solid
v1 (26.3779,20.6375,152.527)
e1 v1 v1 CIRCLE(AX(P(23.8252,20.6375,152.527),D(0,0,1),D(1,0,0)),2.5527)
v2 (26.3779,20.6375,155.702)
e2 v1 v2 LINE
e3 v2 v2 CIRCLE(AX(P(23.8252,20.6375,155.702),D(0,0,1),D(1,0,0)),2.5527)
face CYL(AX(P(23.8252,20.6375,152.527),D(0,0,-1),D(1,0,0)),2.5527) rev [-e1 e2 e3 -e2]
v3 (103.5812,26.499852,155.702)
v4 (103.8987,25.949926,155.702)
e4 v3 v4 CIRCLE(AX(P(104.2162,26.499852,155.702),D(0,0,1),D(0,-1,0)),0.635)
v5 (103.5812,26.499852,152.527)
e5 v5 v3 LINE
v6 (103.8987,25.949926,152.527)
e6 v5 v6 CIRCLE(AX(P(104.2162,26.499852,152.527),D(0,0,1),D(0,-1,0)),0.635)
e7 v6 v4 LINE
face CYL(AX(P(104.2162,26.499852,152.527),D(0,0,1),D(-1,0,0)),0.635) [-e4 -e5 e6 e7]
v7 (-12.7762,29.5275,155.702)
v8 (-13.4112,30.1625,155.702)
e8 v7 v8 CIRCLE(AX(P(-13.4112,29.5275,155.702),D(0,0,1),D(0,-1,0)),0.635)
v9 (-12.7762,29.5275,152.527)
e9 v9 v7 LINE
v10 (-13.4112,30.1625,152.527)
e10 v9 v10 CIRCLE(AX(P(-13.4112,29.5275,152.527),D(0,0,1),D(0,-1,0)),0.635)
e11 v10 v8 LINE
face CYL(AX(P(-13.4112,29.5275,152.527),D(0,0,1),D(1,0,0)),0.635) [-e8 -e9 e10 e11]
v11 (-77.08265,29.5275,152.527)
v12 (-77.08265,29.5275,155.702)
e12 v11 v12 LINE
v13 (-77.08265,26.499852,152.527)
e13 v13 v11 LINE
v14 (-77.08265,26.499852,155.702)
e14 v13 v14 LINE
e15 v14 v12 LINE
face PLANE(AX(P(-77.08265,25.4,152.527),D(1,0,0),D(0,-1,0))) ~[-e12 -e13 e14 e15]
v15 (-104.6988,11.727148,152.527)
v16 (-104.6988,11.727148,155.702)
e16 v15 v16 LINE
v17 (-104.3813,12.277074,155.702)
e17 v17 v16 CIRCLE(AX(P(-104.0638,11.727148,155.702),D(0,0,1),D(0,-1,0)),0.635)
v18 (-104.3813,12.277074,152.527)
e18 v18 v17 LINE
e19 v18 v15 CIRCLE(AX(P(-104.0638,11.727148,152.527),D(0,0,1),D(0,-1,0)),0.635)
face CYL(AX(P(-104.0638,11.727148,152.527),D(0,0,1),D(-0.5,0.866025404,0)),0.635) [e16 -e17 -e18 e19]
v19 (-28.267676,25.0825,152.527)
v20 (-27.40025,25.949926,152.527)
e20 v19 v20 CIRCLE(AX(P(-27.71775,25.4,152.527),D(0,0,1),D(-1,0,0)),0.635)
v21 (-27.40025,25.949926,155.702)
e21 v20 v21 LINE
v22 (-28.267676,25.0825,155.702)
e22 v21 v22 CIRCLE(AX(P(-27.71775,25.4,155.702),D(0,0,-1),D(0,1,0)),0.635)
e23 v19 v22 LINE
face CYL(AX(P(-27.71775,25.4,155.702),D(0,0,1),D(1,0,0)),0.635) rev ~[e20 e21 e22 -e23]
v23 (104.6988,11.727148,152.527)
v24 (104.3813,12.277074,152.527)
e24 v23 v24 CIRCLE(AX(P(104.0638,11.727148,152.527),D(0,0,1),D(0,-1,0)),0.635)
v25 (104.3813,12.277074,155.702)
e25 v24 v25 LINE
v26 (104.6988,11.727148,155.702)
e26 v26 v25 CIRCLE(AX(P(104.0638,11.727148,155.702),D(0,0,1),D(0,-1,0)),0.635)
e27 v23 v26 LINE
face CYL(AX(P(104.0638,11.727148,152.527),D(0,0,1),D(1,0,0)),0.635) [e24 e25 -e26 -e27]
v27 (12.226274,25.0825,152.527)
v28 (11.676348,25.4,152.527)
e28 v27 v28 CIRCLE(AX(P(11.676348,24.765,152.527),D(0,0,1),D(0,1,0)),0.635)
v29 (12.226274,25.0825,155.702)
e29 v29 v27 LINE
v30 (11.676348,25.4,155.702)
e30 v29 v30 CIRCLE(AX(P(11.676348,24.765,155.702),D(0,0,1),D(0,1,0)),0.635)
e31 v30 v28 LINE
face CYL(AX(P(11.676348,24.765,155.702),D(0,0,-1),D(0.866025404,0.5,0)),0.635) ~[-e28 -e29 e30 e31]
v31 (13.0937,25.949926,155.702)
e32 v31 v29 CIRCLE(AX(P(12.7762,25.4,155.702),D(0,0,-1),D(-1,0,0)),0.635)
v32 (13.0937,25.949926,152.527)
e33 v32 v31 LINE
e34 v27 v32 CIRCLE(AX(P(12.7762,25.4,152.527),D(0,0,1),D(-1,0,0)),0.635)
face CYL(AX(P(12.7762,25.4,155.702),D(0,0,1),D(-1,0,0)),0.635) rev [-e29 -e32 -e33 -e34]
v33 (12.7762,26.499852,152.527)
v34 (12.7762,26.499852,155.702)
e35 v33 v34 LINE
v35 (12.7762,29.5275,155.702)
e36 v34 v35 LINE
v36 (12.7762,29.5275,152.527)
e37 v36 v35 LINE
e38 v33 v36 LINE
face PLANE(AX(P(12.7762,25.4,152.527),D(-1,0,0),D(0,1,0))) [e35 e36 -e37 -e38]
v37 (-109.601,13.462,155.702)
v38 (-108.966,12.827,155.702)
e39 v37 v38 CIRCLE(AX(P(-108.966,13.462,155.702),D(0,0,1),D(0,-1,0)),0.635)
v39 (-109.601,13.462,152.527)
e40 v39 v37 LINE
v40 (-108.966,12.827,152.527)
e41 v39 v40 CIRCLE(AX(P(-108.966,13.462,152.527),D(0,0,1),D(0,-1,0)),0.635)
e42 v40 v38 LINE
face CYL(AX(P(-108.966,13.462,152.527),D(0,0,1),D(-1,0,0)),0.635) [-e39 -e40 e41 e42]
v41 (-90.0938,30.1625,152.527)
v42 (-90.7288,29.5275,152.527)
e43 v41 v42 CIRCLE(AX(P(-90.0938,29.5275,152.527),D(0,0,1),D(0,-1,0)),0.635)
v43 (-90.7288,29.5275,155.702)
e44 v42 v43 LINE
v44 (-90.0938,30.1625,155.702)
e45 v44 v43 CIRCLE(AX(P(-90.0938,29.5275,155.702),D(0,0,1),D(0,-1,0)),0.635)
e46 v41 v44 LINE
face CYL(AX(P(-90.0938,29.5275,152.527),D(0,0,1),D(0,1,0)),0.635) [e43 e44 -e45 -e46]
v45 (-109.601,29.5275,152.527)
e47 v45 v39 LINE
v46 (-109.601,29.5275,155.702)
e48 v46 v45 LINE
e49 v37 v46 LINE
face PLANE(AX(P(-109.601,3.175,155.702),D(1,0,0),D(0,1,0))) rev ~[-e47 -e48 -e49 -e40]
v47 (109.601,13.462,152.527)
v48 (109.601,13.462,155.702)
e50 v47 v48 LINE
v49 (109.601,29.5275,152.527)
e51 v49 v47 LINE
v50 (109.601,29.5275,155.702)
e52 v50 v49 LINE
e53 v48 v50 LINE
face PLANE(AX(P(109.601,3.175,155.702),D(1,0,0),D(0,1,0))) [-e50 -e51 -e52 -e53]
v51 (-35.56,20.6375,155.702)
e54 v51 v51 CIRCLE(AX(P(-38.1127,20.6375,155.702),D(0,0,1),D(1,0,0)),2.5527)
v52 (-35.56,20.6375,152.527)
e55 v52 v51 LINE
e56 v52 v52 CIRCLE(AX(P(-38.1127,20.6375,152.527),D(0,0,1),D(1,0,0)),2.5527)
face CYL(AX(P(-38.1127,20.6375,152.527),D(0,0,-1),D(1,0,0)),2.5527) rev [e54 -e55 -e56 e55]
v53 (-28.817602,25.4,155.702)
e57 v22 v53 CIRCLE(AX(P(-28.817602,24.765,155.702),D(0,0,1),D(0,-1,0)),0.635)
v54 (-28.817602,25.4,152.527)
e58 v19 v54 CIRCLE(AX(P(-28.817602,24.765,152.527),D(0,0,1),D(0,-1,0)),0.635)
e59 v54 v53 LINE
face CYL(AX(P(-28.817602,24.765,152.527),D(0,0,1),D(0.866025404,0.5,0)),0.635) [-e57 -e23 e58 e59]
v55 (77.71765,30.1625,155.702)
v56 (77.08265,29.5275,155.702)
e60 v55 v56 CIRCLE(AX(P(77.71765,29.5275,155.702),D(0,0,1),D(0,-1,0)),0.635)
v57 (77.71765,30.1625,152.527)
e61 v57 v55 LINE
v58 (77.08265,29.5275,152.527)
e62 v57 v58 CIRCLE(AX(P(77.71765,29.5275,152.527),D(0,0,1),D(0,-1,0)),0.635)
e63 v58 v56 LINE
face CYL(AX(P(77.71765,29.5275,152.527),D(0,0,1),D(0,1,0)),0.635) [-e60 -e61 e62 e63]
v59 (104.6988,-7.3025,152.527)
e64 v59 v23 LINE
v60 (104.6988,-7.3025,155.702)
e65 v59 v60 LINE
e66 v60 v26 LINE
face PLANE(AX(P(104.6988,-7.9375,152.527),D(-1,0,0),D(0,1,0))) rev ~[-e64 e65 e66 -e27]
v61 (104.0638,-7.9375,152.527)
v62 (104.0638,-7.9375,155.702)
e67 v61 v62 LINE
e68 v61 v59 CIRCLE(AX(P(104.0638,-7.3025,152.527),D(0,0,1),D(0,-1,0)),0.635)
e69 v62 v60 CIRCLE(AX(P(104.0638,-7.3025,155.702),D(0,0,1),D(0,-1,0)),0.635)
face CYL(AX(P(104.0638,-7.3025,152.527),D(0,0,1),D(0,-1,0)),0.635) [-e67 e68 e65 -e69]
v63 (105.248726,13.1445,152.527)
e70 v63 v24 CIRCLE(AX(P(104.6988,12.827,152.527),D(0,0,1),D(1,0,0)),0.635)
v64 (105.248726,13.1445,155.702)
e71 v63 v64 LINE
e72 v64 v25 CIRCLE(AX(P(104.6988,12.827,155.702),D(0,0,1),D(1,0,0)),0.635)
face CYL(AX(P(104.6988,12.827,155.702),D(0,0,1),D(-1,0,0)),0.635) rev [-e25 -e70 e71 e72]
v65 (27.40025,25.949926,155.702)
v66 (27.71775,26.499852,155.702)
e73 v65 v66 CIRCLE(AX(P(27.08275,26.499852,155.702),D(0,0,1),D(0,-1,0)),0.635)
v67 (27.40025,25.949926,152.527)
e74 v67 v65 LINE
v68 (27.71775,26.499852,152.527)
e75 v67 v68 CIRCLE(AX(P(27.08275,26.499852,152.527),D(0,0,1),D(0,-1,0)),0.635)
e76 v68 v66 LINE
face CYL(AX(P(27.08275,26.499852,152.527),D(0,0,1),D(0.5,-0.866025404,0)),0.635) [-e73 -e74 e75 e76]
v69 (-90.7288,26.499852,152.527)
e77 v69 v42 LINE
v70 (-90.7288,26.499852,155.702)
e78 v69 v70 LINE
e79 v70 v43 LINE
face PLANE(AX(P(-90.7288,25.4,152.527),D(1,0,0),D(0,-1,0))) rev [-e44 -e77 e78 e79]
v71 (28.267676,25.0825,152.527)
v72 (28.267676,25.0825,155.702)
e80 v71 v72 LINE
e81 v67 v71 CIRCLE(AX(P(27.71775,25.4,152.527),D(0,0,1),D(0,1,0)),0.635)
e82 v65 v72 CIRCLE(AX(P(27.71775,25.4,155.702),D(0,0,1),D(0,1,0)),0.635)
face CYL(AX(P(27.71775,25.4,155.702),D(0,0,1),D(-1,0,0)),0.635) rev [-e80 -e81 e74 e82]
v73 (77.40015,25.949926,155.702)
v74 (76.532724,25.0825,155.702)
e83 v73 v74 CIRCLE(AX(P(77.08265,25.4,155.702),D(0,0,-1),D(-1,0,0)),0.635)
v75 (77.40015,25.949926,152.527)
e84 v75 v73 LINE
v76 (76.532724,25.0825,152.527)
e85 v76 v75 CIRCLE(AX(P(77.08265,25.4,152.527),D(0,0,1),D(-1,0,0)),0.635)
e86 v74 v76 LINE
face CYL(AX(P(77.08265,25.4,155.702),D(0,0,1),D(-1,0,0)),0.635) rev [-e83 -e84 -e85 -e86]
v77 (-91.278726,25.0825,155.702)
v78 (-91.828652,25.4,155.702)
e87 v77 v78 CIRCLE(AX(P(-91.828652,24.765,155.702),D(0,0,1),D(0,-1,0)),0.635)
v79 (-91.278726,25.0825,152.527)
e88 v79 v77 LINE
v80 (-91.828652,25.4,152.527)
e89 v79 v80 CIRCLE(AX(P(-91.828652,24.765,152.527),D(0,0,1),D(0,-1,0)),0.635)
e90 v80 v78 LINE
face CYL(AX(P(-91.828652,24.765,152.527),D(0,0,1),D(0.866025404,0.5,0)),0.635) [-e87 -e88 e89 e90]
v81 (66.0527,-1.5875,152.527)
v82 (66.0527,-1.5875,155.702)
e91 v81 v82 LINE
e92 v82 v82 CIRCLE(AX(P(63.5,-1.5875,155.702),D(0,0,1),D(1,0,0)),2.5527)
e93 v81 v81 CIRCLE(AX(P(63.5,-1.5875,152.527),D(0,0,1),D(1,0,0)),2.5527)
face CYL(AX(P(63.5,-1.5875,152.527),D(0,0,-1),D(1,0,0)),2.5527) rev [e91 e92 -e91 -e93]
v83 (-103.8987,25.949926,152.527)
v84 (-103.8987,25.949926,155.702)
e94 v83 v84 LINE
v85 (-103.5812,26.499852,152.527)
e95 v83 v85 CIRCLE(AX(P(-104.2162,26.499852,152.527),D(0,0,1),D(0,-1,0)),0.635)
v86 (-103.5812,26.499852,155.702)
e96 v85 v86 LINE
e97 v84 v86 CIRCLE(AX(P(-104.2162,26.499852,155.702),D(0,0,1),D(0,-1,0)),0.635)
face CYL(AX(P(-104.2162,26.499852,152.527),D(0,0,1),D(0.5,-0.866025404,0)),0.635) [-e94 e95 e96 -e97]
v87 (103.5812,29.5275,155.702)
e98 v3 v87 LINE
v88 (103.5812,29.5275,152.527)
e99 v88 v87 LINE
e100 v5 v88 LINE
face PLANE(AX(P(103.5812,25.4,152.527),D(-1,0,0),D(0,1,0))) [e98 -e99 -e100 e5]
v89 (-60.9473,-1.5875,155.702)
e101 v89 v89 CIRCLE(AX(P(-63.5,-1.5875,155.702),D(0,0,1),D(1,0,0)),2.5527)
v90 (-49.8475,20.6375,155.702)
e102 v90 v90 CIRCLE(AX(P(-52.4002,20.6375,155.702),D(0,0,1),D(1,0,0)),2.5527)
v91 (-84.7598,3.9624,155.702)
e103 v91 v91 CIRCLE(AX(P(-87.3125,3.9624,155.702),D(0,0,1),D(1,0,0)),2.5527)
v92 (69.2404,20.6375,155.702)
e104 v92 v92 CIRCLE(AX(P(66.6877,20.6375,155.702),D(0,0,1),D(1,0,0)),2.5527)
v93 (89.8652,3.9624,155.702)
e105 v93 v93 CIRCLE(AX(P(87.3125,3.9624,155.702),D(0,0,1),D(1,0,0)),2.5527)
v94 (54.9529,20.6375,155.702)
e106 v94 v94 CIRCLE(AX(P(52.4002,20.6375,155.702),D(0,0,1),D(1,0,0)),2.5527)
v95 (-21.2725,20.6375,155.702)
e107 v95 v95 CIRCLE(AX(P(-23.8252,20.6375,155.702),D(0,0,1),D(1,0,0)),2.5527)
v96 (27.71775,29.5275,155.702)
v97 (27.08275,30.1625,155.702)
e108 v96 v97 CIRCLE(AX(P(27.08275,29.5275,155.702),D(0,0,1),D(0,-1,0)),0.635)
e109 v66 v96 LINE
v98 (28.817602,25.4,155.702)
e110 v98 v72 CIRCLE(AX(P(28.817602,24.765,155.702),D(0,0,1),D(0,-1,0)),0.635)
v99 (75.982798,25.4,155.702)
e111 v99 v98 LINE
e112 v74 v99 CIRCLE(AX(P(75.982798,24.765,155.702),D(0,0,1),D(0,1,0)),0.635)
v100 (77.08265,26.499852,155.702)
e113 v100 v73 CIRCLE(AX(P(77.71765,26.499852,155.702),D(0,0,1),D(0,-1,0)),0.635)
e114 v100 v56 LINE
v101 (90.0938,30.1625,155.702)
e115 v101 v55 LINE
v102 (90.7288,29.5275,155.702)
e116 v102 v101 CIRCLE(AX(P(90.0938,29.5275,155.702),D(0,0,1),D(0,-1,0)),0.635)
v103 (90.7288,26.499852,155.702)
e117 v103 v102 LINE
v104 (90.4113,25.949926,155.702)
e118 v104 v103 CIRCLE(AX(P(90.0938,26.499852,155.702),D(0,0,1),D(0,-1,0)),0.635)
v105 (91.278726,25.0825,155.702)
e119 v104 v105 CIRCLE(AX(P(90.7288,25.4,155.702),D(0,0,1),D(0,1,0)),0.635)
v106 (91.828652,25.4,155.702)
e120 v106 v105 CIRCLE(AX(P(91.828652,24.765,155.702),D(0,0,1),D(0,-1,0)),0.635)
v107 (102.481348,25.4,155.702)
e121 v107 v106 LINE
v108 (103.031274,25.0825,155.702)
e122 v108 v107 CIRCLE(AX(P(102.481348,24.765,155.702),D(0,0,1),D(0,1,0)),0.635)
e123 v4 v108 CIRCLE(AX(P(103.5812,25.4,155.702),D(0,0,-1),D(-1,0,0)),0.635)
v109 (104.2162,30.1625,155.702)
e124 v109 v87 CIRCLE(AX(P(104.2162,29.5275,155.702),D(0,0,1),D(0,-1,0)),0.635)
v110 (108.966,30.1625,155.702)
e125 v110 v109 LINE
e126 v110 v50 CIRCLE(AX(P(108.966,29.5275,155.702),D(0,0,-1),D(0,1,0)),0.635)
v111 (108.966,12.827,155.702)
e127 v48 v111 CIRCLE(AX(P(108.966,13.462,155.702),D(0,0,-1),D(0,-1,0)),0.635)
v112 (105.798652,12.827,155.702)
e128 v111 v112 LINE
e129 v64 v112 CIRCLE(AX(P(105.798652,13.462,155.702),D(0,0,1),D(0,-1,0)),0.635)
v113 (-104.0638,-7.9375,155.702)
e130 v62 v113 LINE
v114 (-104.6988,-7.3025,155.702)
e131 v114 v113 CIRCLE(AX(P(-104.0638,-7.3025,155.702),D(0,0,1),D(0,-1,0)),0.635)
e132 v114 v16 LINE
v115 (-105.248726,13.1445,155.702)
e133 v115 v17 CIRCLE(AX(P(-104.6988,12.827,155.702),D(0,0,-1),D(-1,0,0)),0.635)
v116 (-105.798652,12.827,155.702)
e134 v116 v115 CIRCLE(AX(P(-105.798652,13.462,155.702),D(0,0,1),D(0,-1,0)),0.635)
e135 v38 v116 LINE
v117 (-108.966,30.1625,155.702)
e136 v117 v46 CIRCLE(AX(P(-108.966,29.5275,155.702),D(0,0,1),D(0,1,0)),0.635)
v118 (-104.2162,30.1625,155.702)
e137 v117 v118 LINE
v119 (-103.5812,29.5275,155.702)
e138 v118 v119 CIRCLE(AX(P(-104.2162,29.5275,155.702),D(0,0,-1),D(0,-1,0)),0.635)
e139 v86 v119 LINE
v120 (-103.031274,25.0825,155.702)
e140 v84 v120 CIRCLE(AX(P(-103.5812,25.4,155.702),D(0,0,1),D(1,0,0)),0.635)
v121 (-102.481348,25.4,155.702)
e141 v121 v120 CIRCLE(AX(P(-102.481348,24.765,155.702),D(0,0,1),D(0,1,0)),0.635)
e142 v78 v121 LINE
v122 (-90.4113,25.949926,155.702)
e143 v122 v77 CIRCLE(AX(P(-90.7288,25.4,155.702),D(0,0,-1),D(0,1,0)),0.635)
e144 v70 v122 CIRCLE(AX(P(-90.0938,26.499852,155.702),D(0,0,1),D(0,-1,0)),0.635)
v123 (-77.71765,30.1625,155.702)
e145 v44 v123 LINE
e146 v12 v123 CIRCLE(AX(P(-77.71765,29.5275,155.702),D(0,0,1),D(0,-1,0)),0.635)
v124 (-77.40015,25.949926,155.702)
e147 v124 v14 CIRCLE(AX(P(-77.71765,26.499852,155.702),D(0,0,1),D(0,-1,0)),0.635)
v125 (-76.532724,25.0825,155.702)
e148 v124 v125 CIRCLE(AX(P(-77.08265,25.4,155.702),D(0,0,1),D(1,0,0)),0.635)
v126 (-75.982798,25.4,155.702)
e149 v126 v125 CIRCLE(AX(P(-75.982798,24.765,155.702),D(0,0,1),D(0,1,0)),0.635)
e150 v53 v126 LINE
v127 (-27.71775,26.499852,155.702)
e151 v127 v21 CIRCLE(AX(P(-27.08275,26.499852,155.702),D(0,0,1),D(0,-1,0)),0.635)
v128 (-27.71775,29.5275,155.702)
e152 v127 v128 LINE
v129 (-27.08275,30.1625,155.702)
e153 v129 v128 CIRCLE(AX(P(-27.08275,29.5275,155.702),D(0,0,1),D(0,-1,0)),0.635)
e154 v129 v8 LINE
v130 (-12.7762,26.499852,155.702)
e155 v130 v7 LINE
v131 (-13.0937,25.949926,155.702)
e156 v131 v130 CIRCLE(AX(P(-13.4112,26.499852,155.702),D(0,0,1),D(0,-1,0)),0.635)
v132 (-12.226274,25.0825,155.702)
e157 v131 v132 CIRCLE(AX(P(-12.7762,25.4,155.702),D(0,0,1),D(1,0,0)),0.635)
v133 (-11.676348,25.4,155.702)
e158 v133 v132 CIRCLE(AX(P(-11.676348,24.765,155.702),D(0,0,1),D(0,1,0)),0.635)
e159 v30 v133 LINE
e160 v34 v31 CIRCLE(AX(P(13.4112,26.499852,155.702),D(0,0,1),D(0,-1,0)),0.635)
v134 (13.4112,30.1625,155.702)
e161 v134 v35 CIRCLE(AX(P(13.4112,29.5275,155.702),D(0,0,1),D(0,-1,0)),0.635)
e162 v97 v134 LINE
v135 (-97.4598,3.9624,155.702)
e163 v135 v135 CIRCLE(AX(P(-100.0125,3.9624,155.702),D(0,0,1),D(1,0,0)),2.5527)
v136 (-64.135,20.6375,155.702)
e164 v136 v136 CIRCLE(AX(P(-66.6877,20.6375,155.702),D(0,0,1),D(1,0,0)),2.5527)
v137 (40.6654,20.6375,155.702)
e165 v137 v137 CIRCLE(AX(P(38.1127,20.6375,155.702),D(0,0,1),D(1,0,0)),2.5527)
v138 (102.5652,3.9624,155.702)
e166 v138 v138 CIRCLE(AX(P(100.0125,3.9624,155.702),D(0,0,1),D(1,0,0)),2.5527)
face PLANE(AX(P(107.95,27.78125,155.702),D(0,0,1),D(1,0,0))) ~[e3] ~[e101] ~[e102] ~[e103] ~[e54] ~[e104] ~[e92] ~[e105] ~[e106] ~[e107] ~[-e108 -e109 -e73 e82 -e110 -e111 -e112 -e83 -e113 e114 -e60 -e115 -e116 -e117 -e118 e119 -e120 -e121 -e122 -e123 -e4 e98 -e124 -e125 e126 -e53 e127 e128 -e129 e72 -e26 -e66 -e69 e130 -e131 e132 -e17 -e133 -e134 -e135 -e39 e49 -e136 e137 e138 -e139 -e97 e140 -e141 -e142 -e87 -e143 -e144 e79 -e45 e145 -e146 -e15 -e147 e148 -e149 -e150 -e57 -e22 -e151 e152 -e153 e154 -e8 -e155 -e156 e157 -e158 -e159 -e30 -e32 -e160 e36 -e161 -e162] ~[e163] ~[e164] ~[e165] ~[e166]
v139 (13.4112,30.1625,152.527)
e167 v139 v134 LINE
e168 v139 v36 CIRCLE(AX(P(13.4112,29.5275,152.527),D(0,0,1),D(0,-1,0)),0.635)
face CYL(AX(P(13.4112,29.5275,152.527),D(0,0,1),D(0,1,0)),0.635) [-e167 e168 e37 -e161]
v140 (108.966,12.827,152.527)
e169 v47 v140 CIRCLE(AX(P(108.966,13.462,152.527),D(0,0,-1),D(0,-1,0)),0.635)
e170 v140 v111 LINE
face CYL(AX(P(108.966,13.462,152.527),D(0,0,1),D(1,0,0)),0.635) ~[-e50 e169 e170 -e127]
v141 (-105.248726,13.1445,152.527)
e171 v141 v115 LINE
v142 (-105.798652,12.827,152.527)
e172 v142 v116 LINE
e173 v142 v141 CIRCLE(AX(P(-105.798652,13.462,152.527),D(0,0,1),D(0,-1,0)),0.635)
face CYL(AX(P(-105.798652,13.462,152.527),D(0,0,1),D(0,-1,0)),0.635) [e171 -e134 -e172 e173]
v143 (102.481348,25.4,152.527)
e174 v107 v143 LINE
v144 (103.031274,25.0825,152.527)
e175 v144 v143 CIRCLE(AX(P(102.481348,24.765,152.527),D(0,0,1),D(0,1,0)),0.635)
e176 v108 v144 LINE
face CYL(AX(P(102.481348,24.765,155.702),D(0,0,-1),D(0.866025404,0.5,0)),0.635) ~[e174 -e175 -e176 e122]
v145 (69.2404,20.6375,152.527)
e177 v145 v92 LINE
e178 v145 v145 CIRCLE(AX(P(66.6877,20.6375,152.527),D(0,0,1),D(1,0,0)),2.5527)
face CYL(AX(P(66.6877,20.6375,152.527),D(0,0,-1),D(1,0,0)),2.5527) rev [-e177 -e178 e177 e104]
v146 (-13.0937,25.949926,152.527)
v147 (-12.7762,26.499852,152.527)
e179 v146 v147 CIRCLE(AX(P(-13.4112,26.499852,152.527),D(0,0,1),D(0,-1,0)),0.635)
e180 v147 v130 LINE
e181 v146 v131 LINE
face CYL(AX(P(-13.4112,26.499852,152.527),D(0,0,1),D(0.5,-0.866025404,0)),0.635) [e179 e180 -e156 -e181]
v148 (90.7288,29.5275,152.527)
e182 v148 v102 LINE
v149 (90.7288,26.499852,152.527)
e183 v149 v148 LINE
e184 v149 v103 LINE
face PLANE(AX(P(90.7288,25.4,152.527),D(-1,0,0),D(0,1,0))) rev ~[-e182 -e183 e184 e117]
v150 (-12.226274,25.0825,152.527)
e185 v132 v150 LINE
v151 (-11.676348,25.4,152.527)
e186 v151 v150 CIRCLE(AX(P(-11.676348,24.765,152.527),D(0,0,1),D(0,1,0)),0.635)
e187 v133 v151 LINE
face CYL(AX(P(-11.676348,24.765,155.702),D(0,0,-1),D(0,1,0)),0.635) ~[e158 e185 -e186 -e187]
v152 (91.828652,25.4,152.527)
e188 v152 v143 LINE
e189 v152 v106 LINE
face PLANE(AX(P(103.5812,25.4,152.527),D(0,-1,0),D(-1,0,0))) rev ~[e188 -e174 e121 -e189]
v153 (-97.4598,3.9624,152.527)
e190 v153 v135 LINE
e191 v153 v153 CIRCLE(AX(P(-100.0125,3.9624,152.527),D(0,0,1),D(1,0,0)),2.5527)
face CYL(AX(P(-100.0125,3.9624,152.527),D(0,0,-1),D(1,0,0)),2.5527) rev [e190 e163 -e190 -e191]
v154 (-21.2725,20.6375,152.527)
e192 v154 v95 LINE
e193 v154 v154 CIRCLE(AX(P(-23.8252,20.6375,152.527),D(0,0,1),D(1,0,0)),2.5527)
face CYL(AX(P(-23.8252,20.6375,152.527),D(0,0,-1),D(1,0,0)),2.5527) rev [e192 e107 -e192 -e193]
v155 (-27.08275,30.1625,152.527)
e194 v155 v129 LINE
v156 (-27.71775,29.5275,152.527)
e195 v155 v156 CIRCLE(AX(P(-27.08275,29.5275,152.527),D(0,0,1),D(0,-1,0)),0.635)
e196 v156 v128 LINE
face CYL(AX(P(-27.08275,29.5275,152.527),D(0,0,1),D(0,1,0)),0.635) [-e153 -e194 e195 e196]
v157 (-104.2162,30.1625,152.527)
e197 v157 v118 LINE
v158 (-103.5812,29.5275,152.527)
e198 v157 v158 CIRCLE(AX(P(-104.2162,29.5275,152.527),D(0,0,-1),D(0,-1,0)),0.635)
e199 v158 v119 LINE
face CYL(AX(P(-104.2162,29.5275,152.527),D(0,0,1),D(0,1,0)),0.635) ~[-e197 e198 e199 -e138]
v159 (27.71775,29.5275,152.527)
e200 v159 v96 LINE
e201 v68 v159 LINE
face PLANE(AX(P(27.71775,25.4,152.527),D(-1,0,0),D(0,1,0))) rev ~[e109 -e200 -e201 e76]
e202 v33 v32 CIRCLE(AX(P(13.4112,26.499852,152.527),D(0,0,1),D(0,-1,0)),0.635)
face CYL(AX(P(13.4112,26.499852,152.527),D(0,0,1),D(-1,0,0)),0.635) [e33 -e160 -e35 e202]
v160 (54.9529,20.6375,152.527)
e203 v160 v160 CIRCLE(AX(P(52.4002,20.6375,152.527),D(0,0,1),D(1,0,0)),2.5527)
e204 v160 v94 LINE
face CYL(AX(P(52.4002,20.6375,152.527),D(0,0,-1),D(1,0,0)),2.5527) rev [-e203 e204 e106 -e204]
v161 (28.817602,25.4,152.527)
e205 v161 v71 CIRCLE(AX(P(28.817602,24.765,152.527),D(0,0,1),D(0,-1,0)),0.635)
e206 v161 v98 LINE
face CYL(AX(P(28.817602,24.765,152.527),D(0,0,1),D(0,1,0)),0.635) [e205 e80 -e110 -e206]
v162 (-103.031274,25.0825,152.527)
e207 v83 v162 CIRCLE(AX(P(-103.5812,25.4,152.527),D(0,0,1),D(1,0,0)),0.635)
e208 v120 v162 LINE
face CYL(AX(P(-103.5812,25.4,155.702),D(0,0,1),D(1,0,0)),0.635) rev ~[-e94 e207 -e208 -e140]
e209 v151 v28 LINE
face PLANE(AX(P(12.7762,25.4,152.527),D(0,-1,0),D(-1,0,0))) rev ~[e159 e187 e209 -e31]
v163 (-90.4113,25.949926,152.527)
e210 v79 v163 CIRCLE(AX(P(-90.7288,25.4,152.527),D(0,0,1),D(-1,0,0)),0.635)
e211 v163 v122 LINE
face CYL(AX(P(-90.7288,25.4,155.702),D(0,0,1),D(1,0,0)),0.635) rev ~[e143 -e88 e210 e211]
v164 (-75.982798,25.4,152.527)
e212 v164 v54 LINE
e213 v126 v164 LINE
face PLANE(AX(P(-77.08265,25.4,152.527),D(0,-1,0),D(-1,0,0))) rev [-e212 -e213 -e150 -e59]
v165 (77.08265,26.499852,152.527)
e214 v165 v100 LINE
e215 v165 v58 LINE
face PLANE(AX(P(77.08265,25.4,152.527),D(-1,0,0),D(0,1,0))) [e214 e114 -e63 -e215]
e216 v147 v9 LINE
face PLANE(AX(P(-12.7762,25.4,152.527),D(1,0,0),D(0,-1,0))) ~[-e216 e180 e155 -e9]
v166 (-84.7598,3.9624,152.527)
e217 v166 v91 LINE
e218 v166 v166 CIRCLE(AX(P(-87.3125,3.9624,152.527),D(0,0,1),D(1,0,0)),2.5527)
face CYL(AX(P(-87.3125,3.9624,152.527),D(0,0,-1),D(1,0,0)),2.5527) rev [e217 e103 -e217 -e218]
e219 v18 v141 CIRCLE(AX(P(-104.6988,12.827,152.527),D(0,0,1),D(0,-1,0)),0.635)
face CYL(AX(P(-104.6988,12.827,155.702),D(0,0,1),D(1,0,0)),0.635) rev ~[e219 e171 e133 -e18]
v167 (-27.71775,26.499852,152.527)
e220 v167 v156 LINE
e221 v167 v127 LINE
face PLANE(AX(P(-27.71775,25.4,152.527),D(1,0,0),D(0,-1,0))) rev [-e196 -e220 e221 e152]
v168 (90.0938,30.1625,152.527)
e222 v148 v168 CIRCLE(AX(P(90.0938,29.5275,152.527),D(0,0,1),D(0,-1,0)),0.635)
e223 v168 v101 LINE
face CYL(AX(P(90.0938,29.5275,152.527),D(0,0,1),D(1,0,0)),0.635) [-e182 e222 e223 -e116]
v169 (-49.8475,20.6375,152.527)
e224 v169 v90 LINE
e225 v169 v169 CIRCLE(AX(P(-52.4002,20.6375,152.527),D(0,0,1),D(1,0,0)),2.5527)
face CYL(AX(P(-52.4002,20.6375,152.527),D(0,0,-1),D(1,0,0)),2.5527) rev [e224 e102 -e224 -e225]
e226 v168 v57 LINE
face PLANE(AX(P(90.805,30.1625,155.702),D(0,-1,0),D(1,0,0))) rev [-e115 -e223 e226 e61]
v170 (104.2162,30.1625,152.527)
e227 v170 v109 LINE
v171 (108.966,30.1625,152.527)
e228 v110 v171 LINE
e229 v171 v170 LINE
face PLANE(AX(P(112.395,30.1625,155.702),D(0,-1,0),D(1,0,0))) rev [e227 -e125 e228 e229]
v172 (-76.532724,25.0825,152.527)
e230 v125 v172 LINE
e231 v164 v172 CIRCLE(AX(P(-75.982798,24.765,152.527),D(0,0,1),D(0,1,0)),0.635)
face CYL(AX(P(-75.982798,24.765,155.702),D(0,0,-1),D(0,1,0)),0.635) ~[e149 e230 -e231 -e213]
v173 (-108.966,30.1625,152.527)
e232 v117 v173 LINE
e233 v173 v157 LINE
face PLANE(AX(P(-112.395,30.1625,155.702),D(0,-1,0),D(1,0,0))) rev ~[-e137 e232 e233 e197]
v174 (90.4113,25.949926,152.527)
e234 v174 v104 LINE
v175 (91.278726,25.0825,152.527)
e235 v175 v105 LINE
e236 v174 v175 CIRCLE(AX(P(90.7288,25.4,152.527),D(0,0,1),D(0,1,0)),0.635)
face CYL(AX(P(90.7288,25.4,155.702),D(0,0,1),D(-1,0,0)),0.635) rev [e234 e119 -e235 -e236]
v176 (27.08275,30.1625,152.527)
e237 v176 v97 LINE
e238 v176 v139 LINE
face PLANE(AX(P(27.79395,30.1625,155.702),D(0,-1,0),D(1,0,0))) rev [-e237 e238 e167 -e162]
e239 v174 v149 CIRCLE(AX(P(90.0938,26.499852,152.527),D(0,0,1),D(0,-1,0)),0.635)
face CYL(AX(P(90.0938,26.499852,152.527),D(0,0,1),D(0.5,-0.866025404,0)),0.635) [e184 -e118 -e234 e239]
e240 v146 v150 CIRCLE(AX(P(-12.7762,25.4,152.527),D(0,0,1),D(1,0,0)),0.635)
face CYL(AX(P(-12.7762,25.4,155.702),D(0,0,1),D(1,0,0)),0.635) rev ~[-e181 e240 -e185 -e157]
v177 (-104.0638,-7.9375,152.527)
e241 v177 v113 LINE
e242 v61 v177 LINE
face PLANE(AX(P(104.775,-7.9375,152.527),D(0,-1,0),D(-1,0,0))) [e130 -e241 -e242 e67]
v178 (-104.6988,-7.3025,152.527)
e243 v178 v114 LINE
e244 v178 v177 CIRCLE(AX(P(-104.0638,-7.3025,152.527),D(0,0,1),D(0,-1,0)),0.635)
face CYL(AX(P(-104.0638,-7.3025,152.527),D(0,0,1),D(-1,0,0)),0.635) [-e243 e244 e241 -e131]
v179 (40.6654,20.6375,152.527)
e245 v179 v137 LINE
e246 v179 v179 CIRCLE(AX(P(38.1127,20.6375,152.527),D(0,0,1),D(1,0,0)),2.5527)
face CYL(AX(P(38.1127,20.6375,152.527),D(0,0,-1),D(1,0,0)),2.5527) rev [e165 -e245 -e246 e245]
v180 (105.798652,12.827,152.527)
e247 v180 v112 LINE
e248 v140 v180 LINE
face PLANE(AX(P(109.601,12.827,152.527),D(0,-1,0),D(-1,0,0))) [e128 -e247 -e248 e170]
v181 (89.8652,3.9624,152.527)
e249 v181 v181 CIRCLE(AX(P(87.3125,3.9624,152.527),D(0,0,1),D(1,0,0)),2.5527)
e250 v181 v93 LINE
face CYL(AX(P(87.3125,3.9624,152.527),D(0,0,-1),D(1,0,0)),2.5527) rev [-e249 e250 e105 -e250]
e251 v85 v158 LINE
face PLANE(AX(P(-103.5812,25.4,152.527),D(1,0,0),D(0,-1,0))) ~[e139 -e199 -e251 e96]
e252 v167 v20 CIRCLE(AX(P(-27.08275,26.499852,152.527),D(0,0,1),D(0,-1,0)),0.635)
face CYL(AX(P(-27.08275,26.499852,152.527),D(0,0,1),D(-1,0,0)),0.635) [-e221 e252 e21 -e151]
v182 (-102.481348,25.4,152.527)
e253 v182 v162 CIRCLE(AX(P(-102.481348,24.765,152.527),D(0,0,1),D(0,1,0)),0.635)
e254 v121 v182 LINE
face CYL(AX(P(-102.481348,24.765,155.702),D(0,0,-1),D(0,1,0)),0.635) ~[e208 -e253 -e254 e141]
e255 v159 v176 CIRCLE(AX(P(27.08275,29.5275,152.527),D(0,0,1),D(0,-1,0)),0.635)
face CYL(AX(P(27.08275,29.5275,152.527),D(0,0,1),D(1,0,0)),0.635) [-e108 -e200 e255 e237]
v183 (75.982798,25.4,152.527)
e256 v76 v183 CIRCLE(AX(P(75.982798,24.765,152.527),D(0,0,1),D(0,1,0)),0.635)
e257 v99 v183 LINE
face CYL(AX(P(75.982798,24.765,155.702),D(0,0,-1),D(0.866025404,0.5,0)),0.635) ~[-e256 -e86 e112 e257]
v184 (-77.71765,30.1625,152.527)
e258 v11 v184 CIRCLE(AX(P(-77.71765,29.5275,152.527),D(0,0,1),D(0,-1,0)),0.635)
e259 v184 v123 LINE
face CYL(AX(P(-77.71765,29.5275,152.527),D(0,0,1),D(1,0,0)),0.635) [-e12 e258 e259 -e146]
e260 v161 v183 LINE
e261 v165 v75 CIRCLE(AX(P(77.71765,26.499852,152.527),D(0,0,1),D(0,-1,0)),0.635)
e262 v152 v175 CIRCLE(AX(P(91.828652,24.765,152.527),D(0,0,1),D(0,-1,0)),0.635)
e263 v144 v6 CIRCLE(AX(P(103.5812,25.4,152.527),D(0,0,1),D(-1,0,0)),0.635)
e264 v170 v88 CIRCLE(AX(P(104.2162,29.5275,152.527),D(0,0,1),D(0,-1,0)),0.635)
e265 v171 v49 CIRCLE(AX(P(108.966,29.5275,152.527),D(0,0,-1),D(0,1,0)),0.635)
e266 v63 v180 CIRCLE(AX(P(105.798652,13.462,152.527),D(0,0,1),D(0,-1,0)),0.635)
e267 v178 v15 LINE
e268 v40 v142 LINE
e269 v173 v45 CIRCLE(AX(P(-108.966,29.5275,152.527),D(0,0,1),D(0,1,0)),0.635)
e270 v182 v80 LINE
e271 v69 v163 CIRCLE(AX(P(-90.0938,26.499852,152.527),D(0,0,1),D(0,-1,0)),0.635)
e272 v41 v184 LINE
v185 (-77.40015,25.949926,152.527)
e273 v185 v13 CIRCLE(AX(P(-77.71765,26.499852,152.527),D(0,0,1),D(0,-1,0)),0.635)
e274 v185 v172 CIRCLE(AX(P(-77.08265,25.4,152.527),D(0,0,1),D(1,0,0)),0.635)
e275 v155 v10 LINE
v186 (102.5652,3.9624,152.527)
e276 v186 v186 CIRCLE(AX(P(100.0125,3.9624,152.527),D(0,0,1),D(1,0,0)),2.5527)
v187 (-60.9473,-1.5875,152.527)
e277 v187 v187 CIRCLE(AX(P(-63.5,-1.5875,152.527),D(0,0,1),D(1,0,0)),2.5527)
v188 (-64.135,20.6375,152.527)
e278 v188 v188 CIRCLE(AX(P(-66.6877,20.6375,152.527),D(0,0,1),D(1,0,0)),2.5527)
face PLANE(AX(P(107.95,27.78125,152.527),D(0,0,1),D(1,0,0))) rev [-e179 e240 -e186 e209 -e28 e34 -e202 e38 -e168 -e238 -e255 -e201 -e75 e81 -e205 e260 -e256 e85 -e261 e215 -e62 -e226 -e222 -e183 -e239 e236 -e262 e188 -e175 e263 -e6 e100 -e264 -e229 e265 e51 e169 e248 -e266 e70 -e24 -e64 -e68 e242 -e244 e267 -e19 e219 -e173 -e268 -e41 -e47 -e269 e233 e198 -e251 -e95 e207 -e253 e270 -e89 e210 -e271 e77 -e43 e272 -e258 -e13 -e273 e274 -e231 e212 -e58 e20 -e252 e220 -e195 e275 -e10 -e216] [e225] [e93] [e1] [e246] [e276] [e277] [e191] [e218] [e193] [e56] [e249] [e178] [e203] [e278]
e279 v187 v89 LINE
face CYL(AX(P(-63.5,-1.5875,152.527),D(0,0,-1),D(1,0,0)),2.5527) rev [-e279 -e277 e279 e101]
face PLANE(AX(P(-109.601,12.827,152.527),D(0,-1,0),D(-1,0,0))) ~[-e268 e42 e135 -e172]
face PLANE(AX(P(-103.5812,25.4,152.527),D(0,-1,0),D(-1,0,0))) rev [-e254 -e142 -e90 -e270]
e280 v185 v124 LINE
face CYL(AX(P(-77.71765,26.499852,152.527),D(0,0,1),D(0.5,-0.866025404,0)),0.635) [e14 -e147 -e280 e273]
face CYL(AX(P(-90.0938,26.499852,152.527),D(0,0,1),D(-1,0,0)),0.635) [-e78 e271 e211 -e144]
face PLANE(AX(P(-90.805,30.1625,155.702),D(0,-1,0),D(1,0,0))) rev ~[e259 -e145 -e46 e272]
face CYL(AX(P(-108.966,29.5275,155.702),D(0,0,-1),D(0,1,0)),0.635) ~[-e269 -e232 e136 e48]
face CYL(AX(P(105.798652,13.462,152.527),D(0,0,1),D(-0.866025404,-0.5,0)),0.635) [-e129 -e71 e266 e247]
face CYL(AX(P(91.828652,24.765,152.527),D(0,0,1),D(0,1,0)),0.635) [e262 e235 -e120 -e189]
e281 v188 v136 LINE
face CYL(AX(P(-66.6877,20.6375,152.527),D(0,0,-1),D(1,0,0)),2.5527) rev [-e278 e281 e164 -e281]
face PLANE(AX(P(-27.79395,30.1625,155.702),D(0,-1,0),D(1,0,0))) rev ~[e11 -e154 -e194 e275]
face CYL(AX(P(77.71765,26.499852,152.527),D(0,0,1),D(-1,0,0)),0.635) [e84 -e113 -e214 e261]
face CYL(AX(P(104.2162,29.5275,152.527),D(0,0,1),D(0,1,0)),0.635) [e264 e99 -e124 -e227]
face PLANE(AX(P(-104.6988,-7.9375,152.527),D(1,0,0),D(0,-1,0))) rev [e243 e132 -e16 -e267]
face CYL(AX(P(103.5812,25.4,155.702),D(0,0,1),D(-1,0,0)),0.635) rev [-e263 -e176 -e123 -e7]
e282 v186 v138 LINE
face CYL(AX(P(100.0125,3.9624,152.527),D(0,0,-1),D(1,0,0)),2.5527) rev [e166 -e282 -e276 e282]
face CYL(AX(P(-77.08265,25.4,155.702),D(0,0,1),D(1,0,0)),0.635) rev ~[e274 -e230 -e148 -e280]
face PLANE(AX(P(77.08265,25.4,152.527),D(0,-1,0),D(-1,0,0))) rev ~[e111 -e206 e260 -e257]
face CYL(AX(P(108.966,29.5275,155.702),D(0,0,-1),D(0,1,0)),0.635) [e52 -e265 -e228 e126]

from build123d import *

# Parameters (mm, degrees)
SKETCH41_R                  = 2.5527
BACK_PLATE_EXTRUDE_DEPTH    = 3.175
SKETCH71_W                  = 8.89
SKETCH71_H                  = 4.7625
SKETCH71_W_2                = 13.79855
SKETCH71_W_3                = 15.09395
BOSS_EXTRUDE26_DEPTH        = 3.175
SKETCH91_W                  = 4.9022
SKETCH91_H                  = 20.7645
SKETCH91_W_2                = 12.8524
SKETCH91_H_2                = 4.7625
SKETCH91_W_3                = 49.3649
SKETCH91_W_4                = 12.7762
BACK_PLATE_TOLERENCES_DEPTH = 4.175
SKETCH92_W                  = 2.794
SKETCH92_H                  = 26.9875
CUT_EXTRUDE1_DEPTH          = 4.175
FILLET27_R                  = 0.635
FILLET28_R                  = 0.635
SKETCH93_R                  = 0.635
CUT_EXTRUDE2_DEPTH          = 4.175
FILLET29_R                  = 0.635
FILLET29_OF_MIRROR26_R      = 0.635


with BuildPart() as part:
    # Sketch41 → Back Plate Extrude------------ (new body)
    with BuildSketch(Plane.XY.offset(152.527)):
        Polygon((-104.775, -7.9375), (-104.775, 12.7), (-109.5248, 12.7), (-109.5248, 3.175), (-112.395, 3.175), (-112.395, 25.4), (-104.775, 25.4), (104.775, 25.4), (112.395, 25.4), (112.395, 3.175), (109.5248, 3.175), (109.5248, 12.7), (104.775, 12.7), (104.775, -7.9375), align=None)
        with Locations((-100.0125, 3.9624)):
            Circle(SKETCH41_R, mode=Mode.SUBTRACT)
        with Locations((100.0125, 3.9624)):
            Circle(SKETCH41_R, mode=Mode.SUBTRACT)
        with Locations((23.8252, 20.6375)):
            Circle(SKETCH41_R, mode=Mode.SUBTRACT)
        with Locations((38.1127, 20.6375)):
            Circle(SKETCH41_R, mode=Mode.SUBTRACT)
        with Locations((52.4002, 20.6375)):
            Circle(SKETCH41_R, mode=Mode.SUBTRACT)
        with Locations((66.6877, 20.6375)):
            Circle(SKETCH41_R, mode=Mode.SUBTRACT)
        with Locations((-66.6877, 20.6375)):
            Circle(SKETCH41_R, mode=Mode.SUBTRACT)
        with Locations((-52.4002, 20.6375)):
            Circle(SKETCH41_R, mode=Mode.SUBTRACT)
        with Locations((-38.1127, 20.6375)):
            Circle(SKETCH41_R, mode=Mode.SUBTRACT)
        with Locations((-23.8252, 20.6375)):
            Circle(SKETCH41_R, mode=Mode.SUBTRACT)
        with Locations((-87.3125, 3.9624)):
            Circle(SKETCH41_R, mode=Mode.SUBTRACT)
        with Locations((87.3125, 3.9624)):
            Circle(SKETCH41_R, mode=Mode.SUBTRACT)
        with Locations((-63.5, -1.5875)):
            Circle(SKETCH41_R, mode=Mode.SUBTRACT)
        with Locations((63.5, -1.5875)):
            Circle(SKETCH41_R, mode=Mode.SUBTRACT)
    extrude(amount=BACK_PLATE_EXTRUDE_DEPTH)

    # Sketch71 → Boss-Extrude26 (add, through all)
    with BuildSketch(Plane.XY.offset(155.702)):
        with Locations((-107.95, 27.78125)):
            Rectangle(SKETCH71_W, SKETCH71_H)
        with Locations((-83.905725, 27.78125)):
            Rectangle(SKETCH71_W_2, SKETCH71_H)
        with Locations((-20.246975, 27.78125)):
            Rectangle(SKETCH71_W_3, SKETCH71_H)
    boss_extrude26 = extrude(amount=-BOSS_EXTRUDE26_DEPTH)

    # Mirror23: Boss-Extrude26 across plane
    add(boss_extrude26.mirror(Plane(origin=(0, 0, 0), x_dir=(0, 0, 1), z_dir=(1, 0, 0))))

    # Sketch91 → Back Plate Tolerences (cut, through all)
    with BuildSketch(Plane(origin=(0, 0, 152.527), x_dir=(-1, 0, 0), z_dir=(0, 0, -1))):
        with Locations((-107.1499, 2.44475)):
            Rectangle(SKETCH91_W, SKETCH91_H)
        with Locations((-97.155, 27.78125)):
            Rectangle(SKETCH91_W_2, SKETCH91_H_2)
        with Locations((-52.4002, 27.78125)):
            Rectangle(SKETCH91_W_3, SKETCH91_H_2)
        with Locations((-6.3881, 27.78125)):
            Rectangle(SKETCH91_W_4, SKETCH91_H_2)
    back_plate_tolerences = extrude(amount=-BACK_PLATE_TOLERENCES_DEPTH, mode=Mode.SUBTRACT)

    # Mirror25: Back Plate Tolerences across plane
    add(back_plate_tolerences.mirror(Plane(origin=(0, 0, 0), x_dir=(0, 0, 1), z_dir=(1, 0, 0))), mode=Mode.SUBTRACT)

    # Sketch92 → Cut-Extrude1 (cut, through all)
    with BuildSketch(Plane.XY.offset(155.702)):
        with Locations((-110.998, 16.66875)):
            Rectangle(SKETCH92_W, SKETCH92_H)
        with Locations((110.998, 16.66875)):
            Rectangle(SKETCH92_W, SKETCH92_H)
    extrude(amount=-CUT_EXTRUDE1_DEPTH, mode=Mode.SUBTRACT)

    # Fillet27
    fillet27_edges = [part.edges().sort_by_distance(p)[0] for p in [
        (104.6988, -7.9375, 154.1145),
        (109.601, 12.827, 154.1145),
        (-109.601, 12.827, 154.1145),
        (-104.6988, -7.9375, 154.1145),
        (-109.601, 30.1625, 154.1145),
        (109.601, 30.1625, 154.1145),
    ]]
    fillet(fillet27_edges, radius=FILLET27_R)

    # Fillet28
    fillet28_edges = [part.edges().sort_by_distance(p)[0] for p in [
        (103.5812, 30.1625, 154.1145),
        (90.7288, 30.1625, 154.1145),
        (77.08265, 30.1625, 154.1145),
        (27.71775, 30.1625, 154.1145),
        (12.7762, 30.1625, 154.1145),
        (-103.5812, 30.1625, 154.1145),
        (-90.7288, 30.1625, 154.1145),
        (-27.71775, 30.1625, 154.1145),
        (-77.08265, 30.1625, 154.1145),
        (-12.7762, 30.1625, 154.1145),
    ]]
    fillet(fillet28_edges, radius=FILLET28_R)

    # Sketch93 → Cut-Extrude2 (cut, through all)
    with BuildSketch(Plane.XY.offset(155.702)):
        with Locations((-104.6988, 12.827)):
            Circle(SKETCH93_R)
        with Locations((-103.5812, 25.4)):
            Circle(SKETCH93_R)
        with Locations((-90.7288, 25.4)):
            Circle(SKETCH93_R)
        with Locations((-77.08265, 25.4)):
            Circle(SKETCH93_R)
        with Locations((-27.71775, 25.4)):
            Circle(SKETCH93_R)
        with Locations((-12.7762, 25.4)):
            Circle(SKETCH93_R)
    cut_extrude2 = extrude(amount=-CUT_EXTRUDE2_DEPTH, mode=Mode.SUBTRACT)

    # Fillet29
    fillet29_edges = [part.edges().sort_by_distance(p)[0] for p in [
        (-105.3338, 12.827, 154.1145),
        (-103.5812, 26.035, 154.1145),
        (-27.71775, 26.035, 154.1145),
        (-12.7762, 26.035, 154.1145),
        (-90.7288, 26.035, 154.1145),
        (-77.08265, 26.035, 154.1145),
        (-104.6988, 12.192, 154.1145),
        (-102.9462, 25.4, 154.1145),
        (-91.3638, 25.4, 154.1145),
        (-76.44765, 25.4, 154.1145),
        (-28.35275, 25.4, 154.1145),
        (-12.1412, 25.4, 154.1145),
    ]]
    fillet(fillet29_edges, radius=FILLET29_R)

    # Mirror26: Cut-Extrude2 across plane
    add(cut_extrude2.mirror(Plane(origin=(0, 0, 0), x_dir=(0, 0, 1), z_dir=(1, 0, 0))), mode=Mode.SUBTRACT)

    # Fillet29 of Mirror26
    fillet29_of_mirror26_edges = [part.edges().sort_by_distance(p)[0] for p in [
        (105.3338, 12.827, 154.1145),
        (103.5812, 26.035, 154.1145),
        (27.71775, 26.035, 154.1145),
        (12.7762, 26.035, 154.1145),
        (90.7288, 26.035, 154.1145),
        (77.08265, 26.035, 154.1145),
        (104.6988, 12.192, 154.1145),
        (102.9462, 25.4, 154.1145),
        (91.3638, 25.4, 154.1145),
        (76.44765, 25.4, 154.1145),
        (28.35275, 25.4, 154.1145),
        (12.1412, 25.4, 154.1145),
    ]]
    fillet(fillet29_of_mirror26_edges, radius=FILLET29_OF_MIRROR26_R)


solid = part.part
